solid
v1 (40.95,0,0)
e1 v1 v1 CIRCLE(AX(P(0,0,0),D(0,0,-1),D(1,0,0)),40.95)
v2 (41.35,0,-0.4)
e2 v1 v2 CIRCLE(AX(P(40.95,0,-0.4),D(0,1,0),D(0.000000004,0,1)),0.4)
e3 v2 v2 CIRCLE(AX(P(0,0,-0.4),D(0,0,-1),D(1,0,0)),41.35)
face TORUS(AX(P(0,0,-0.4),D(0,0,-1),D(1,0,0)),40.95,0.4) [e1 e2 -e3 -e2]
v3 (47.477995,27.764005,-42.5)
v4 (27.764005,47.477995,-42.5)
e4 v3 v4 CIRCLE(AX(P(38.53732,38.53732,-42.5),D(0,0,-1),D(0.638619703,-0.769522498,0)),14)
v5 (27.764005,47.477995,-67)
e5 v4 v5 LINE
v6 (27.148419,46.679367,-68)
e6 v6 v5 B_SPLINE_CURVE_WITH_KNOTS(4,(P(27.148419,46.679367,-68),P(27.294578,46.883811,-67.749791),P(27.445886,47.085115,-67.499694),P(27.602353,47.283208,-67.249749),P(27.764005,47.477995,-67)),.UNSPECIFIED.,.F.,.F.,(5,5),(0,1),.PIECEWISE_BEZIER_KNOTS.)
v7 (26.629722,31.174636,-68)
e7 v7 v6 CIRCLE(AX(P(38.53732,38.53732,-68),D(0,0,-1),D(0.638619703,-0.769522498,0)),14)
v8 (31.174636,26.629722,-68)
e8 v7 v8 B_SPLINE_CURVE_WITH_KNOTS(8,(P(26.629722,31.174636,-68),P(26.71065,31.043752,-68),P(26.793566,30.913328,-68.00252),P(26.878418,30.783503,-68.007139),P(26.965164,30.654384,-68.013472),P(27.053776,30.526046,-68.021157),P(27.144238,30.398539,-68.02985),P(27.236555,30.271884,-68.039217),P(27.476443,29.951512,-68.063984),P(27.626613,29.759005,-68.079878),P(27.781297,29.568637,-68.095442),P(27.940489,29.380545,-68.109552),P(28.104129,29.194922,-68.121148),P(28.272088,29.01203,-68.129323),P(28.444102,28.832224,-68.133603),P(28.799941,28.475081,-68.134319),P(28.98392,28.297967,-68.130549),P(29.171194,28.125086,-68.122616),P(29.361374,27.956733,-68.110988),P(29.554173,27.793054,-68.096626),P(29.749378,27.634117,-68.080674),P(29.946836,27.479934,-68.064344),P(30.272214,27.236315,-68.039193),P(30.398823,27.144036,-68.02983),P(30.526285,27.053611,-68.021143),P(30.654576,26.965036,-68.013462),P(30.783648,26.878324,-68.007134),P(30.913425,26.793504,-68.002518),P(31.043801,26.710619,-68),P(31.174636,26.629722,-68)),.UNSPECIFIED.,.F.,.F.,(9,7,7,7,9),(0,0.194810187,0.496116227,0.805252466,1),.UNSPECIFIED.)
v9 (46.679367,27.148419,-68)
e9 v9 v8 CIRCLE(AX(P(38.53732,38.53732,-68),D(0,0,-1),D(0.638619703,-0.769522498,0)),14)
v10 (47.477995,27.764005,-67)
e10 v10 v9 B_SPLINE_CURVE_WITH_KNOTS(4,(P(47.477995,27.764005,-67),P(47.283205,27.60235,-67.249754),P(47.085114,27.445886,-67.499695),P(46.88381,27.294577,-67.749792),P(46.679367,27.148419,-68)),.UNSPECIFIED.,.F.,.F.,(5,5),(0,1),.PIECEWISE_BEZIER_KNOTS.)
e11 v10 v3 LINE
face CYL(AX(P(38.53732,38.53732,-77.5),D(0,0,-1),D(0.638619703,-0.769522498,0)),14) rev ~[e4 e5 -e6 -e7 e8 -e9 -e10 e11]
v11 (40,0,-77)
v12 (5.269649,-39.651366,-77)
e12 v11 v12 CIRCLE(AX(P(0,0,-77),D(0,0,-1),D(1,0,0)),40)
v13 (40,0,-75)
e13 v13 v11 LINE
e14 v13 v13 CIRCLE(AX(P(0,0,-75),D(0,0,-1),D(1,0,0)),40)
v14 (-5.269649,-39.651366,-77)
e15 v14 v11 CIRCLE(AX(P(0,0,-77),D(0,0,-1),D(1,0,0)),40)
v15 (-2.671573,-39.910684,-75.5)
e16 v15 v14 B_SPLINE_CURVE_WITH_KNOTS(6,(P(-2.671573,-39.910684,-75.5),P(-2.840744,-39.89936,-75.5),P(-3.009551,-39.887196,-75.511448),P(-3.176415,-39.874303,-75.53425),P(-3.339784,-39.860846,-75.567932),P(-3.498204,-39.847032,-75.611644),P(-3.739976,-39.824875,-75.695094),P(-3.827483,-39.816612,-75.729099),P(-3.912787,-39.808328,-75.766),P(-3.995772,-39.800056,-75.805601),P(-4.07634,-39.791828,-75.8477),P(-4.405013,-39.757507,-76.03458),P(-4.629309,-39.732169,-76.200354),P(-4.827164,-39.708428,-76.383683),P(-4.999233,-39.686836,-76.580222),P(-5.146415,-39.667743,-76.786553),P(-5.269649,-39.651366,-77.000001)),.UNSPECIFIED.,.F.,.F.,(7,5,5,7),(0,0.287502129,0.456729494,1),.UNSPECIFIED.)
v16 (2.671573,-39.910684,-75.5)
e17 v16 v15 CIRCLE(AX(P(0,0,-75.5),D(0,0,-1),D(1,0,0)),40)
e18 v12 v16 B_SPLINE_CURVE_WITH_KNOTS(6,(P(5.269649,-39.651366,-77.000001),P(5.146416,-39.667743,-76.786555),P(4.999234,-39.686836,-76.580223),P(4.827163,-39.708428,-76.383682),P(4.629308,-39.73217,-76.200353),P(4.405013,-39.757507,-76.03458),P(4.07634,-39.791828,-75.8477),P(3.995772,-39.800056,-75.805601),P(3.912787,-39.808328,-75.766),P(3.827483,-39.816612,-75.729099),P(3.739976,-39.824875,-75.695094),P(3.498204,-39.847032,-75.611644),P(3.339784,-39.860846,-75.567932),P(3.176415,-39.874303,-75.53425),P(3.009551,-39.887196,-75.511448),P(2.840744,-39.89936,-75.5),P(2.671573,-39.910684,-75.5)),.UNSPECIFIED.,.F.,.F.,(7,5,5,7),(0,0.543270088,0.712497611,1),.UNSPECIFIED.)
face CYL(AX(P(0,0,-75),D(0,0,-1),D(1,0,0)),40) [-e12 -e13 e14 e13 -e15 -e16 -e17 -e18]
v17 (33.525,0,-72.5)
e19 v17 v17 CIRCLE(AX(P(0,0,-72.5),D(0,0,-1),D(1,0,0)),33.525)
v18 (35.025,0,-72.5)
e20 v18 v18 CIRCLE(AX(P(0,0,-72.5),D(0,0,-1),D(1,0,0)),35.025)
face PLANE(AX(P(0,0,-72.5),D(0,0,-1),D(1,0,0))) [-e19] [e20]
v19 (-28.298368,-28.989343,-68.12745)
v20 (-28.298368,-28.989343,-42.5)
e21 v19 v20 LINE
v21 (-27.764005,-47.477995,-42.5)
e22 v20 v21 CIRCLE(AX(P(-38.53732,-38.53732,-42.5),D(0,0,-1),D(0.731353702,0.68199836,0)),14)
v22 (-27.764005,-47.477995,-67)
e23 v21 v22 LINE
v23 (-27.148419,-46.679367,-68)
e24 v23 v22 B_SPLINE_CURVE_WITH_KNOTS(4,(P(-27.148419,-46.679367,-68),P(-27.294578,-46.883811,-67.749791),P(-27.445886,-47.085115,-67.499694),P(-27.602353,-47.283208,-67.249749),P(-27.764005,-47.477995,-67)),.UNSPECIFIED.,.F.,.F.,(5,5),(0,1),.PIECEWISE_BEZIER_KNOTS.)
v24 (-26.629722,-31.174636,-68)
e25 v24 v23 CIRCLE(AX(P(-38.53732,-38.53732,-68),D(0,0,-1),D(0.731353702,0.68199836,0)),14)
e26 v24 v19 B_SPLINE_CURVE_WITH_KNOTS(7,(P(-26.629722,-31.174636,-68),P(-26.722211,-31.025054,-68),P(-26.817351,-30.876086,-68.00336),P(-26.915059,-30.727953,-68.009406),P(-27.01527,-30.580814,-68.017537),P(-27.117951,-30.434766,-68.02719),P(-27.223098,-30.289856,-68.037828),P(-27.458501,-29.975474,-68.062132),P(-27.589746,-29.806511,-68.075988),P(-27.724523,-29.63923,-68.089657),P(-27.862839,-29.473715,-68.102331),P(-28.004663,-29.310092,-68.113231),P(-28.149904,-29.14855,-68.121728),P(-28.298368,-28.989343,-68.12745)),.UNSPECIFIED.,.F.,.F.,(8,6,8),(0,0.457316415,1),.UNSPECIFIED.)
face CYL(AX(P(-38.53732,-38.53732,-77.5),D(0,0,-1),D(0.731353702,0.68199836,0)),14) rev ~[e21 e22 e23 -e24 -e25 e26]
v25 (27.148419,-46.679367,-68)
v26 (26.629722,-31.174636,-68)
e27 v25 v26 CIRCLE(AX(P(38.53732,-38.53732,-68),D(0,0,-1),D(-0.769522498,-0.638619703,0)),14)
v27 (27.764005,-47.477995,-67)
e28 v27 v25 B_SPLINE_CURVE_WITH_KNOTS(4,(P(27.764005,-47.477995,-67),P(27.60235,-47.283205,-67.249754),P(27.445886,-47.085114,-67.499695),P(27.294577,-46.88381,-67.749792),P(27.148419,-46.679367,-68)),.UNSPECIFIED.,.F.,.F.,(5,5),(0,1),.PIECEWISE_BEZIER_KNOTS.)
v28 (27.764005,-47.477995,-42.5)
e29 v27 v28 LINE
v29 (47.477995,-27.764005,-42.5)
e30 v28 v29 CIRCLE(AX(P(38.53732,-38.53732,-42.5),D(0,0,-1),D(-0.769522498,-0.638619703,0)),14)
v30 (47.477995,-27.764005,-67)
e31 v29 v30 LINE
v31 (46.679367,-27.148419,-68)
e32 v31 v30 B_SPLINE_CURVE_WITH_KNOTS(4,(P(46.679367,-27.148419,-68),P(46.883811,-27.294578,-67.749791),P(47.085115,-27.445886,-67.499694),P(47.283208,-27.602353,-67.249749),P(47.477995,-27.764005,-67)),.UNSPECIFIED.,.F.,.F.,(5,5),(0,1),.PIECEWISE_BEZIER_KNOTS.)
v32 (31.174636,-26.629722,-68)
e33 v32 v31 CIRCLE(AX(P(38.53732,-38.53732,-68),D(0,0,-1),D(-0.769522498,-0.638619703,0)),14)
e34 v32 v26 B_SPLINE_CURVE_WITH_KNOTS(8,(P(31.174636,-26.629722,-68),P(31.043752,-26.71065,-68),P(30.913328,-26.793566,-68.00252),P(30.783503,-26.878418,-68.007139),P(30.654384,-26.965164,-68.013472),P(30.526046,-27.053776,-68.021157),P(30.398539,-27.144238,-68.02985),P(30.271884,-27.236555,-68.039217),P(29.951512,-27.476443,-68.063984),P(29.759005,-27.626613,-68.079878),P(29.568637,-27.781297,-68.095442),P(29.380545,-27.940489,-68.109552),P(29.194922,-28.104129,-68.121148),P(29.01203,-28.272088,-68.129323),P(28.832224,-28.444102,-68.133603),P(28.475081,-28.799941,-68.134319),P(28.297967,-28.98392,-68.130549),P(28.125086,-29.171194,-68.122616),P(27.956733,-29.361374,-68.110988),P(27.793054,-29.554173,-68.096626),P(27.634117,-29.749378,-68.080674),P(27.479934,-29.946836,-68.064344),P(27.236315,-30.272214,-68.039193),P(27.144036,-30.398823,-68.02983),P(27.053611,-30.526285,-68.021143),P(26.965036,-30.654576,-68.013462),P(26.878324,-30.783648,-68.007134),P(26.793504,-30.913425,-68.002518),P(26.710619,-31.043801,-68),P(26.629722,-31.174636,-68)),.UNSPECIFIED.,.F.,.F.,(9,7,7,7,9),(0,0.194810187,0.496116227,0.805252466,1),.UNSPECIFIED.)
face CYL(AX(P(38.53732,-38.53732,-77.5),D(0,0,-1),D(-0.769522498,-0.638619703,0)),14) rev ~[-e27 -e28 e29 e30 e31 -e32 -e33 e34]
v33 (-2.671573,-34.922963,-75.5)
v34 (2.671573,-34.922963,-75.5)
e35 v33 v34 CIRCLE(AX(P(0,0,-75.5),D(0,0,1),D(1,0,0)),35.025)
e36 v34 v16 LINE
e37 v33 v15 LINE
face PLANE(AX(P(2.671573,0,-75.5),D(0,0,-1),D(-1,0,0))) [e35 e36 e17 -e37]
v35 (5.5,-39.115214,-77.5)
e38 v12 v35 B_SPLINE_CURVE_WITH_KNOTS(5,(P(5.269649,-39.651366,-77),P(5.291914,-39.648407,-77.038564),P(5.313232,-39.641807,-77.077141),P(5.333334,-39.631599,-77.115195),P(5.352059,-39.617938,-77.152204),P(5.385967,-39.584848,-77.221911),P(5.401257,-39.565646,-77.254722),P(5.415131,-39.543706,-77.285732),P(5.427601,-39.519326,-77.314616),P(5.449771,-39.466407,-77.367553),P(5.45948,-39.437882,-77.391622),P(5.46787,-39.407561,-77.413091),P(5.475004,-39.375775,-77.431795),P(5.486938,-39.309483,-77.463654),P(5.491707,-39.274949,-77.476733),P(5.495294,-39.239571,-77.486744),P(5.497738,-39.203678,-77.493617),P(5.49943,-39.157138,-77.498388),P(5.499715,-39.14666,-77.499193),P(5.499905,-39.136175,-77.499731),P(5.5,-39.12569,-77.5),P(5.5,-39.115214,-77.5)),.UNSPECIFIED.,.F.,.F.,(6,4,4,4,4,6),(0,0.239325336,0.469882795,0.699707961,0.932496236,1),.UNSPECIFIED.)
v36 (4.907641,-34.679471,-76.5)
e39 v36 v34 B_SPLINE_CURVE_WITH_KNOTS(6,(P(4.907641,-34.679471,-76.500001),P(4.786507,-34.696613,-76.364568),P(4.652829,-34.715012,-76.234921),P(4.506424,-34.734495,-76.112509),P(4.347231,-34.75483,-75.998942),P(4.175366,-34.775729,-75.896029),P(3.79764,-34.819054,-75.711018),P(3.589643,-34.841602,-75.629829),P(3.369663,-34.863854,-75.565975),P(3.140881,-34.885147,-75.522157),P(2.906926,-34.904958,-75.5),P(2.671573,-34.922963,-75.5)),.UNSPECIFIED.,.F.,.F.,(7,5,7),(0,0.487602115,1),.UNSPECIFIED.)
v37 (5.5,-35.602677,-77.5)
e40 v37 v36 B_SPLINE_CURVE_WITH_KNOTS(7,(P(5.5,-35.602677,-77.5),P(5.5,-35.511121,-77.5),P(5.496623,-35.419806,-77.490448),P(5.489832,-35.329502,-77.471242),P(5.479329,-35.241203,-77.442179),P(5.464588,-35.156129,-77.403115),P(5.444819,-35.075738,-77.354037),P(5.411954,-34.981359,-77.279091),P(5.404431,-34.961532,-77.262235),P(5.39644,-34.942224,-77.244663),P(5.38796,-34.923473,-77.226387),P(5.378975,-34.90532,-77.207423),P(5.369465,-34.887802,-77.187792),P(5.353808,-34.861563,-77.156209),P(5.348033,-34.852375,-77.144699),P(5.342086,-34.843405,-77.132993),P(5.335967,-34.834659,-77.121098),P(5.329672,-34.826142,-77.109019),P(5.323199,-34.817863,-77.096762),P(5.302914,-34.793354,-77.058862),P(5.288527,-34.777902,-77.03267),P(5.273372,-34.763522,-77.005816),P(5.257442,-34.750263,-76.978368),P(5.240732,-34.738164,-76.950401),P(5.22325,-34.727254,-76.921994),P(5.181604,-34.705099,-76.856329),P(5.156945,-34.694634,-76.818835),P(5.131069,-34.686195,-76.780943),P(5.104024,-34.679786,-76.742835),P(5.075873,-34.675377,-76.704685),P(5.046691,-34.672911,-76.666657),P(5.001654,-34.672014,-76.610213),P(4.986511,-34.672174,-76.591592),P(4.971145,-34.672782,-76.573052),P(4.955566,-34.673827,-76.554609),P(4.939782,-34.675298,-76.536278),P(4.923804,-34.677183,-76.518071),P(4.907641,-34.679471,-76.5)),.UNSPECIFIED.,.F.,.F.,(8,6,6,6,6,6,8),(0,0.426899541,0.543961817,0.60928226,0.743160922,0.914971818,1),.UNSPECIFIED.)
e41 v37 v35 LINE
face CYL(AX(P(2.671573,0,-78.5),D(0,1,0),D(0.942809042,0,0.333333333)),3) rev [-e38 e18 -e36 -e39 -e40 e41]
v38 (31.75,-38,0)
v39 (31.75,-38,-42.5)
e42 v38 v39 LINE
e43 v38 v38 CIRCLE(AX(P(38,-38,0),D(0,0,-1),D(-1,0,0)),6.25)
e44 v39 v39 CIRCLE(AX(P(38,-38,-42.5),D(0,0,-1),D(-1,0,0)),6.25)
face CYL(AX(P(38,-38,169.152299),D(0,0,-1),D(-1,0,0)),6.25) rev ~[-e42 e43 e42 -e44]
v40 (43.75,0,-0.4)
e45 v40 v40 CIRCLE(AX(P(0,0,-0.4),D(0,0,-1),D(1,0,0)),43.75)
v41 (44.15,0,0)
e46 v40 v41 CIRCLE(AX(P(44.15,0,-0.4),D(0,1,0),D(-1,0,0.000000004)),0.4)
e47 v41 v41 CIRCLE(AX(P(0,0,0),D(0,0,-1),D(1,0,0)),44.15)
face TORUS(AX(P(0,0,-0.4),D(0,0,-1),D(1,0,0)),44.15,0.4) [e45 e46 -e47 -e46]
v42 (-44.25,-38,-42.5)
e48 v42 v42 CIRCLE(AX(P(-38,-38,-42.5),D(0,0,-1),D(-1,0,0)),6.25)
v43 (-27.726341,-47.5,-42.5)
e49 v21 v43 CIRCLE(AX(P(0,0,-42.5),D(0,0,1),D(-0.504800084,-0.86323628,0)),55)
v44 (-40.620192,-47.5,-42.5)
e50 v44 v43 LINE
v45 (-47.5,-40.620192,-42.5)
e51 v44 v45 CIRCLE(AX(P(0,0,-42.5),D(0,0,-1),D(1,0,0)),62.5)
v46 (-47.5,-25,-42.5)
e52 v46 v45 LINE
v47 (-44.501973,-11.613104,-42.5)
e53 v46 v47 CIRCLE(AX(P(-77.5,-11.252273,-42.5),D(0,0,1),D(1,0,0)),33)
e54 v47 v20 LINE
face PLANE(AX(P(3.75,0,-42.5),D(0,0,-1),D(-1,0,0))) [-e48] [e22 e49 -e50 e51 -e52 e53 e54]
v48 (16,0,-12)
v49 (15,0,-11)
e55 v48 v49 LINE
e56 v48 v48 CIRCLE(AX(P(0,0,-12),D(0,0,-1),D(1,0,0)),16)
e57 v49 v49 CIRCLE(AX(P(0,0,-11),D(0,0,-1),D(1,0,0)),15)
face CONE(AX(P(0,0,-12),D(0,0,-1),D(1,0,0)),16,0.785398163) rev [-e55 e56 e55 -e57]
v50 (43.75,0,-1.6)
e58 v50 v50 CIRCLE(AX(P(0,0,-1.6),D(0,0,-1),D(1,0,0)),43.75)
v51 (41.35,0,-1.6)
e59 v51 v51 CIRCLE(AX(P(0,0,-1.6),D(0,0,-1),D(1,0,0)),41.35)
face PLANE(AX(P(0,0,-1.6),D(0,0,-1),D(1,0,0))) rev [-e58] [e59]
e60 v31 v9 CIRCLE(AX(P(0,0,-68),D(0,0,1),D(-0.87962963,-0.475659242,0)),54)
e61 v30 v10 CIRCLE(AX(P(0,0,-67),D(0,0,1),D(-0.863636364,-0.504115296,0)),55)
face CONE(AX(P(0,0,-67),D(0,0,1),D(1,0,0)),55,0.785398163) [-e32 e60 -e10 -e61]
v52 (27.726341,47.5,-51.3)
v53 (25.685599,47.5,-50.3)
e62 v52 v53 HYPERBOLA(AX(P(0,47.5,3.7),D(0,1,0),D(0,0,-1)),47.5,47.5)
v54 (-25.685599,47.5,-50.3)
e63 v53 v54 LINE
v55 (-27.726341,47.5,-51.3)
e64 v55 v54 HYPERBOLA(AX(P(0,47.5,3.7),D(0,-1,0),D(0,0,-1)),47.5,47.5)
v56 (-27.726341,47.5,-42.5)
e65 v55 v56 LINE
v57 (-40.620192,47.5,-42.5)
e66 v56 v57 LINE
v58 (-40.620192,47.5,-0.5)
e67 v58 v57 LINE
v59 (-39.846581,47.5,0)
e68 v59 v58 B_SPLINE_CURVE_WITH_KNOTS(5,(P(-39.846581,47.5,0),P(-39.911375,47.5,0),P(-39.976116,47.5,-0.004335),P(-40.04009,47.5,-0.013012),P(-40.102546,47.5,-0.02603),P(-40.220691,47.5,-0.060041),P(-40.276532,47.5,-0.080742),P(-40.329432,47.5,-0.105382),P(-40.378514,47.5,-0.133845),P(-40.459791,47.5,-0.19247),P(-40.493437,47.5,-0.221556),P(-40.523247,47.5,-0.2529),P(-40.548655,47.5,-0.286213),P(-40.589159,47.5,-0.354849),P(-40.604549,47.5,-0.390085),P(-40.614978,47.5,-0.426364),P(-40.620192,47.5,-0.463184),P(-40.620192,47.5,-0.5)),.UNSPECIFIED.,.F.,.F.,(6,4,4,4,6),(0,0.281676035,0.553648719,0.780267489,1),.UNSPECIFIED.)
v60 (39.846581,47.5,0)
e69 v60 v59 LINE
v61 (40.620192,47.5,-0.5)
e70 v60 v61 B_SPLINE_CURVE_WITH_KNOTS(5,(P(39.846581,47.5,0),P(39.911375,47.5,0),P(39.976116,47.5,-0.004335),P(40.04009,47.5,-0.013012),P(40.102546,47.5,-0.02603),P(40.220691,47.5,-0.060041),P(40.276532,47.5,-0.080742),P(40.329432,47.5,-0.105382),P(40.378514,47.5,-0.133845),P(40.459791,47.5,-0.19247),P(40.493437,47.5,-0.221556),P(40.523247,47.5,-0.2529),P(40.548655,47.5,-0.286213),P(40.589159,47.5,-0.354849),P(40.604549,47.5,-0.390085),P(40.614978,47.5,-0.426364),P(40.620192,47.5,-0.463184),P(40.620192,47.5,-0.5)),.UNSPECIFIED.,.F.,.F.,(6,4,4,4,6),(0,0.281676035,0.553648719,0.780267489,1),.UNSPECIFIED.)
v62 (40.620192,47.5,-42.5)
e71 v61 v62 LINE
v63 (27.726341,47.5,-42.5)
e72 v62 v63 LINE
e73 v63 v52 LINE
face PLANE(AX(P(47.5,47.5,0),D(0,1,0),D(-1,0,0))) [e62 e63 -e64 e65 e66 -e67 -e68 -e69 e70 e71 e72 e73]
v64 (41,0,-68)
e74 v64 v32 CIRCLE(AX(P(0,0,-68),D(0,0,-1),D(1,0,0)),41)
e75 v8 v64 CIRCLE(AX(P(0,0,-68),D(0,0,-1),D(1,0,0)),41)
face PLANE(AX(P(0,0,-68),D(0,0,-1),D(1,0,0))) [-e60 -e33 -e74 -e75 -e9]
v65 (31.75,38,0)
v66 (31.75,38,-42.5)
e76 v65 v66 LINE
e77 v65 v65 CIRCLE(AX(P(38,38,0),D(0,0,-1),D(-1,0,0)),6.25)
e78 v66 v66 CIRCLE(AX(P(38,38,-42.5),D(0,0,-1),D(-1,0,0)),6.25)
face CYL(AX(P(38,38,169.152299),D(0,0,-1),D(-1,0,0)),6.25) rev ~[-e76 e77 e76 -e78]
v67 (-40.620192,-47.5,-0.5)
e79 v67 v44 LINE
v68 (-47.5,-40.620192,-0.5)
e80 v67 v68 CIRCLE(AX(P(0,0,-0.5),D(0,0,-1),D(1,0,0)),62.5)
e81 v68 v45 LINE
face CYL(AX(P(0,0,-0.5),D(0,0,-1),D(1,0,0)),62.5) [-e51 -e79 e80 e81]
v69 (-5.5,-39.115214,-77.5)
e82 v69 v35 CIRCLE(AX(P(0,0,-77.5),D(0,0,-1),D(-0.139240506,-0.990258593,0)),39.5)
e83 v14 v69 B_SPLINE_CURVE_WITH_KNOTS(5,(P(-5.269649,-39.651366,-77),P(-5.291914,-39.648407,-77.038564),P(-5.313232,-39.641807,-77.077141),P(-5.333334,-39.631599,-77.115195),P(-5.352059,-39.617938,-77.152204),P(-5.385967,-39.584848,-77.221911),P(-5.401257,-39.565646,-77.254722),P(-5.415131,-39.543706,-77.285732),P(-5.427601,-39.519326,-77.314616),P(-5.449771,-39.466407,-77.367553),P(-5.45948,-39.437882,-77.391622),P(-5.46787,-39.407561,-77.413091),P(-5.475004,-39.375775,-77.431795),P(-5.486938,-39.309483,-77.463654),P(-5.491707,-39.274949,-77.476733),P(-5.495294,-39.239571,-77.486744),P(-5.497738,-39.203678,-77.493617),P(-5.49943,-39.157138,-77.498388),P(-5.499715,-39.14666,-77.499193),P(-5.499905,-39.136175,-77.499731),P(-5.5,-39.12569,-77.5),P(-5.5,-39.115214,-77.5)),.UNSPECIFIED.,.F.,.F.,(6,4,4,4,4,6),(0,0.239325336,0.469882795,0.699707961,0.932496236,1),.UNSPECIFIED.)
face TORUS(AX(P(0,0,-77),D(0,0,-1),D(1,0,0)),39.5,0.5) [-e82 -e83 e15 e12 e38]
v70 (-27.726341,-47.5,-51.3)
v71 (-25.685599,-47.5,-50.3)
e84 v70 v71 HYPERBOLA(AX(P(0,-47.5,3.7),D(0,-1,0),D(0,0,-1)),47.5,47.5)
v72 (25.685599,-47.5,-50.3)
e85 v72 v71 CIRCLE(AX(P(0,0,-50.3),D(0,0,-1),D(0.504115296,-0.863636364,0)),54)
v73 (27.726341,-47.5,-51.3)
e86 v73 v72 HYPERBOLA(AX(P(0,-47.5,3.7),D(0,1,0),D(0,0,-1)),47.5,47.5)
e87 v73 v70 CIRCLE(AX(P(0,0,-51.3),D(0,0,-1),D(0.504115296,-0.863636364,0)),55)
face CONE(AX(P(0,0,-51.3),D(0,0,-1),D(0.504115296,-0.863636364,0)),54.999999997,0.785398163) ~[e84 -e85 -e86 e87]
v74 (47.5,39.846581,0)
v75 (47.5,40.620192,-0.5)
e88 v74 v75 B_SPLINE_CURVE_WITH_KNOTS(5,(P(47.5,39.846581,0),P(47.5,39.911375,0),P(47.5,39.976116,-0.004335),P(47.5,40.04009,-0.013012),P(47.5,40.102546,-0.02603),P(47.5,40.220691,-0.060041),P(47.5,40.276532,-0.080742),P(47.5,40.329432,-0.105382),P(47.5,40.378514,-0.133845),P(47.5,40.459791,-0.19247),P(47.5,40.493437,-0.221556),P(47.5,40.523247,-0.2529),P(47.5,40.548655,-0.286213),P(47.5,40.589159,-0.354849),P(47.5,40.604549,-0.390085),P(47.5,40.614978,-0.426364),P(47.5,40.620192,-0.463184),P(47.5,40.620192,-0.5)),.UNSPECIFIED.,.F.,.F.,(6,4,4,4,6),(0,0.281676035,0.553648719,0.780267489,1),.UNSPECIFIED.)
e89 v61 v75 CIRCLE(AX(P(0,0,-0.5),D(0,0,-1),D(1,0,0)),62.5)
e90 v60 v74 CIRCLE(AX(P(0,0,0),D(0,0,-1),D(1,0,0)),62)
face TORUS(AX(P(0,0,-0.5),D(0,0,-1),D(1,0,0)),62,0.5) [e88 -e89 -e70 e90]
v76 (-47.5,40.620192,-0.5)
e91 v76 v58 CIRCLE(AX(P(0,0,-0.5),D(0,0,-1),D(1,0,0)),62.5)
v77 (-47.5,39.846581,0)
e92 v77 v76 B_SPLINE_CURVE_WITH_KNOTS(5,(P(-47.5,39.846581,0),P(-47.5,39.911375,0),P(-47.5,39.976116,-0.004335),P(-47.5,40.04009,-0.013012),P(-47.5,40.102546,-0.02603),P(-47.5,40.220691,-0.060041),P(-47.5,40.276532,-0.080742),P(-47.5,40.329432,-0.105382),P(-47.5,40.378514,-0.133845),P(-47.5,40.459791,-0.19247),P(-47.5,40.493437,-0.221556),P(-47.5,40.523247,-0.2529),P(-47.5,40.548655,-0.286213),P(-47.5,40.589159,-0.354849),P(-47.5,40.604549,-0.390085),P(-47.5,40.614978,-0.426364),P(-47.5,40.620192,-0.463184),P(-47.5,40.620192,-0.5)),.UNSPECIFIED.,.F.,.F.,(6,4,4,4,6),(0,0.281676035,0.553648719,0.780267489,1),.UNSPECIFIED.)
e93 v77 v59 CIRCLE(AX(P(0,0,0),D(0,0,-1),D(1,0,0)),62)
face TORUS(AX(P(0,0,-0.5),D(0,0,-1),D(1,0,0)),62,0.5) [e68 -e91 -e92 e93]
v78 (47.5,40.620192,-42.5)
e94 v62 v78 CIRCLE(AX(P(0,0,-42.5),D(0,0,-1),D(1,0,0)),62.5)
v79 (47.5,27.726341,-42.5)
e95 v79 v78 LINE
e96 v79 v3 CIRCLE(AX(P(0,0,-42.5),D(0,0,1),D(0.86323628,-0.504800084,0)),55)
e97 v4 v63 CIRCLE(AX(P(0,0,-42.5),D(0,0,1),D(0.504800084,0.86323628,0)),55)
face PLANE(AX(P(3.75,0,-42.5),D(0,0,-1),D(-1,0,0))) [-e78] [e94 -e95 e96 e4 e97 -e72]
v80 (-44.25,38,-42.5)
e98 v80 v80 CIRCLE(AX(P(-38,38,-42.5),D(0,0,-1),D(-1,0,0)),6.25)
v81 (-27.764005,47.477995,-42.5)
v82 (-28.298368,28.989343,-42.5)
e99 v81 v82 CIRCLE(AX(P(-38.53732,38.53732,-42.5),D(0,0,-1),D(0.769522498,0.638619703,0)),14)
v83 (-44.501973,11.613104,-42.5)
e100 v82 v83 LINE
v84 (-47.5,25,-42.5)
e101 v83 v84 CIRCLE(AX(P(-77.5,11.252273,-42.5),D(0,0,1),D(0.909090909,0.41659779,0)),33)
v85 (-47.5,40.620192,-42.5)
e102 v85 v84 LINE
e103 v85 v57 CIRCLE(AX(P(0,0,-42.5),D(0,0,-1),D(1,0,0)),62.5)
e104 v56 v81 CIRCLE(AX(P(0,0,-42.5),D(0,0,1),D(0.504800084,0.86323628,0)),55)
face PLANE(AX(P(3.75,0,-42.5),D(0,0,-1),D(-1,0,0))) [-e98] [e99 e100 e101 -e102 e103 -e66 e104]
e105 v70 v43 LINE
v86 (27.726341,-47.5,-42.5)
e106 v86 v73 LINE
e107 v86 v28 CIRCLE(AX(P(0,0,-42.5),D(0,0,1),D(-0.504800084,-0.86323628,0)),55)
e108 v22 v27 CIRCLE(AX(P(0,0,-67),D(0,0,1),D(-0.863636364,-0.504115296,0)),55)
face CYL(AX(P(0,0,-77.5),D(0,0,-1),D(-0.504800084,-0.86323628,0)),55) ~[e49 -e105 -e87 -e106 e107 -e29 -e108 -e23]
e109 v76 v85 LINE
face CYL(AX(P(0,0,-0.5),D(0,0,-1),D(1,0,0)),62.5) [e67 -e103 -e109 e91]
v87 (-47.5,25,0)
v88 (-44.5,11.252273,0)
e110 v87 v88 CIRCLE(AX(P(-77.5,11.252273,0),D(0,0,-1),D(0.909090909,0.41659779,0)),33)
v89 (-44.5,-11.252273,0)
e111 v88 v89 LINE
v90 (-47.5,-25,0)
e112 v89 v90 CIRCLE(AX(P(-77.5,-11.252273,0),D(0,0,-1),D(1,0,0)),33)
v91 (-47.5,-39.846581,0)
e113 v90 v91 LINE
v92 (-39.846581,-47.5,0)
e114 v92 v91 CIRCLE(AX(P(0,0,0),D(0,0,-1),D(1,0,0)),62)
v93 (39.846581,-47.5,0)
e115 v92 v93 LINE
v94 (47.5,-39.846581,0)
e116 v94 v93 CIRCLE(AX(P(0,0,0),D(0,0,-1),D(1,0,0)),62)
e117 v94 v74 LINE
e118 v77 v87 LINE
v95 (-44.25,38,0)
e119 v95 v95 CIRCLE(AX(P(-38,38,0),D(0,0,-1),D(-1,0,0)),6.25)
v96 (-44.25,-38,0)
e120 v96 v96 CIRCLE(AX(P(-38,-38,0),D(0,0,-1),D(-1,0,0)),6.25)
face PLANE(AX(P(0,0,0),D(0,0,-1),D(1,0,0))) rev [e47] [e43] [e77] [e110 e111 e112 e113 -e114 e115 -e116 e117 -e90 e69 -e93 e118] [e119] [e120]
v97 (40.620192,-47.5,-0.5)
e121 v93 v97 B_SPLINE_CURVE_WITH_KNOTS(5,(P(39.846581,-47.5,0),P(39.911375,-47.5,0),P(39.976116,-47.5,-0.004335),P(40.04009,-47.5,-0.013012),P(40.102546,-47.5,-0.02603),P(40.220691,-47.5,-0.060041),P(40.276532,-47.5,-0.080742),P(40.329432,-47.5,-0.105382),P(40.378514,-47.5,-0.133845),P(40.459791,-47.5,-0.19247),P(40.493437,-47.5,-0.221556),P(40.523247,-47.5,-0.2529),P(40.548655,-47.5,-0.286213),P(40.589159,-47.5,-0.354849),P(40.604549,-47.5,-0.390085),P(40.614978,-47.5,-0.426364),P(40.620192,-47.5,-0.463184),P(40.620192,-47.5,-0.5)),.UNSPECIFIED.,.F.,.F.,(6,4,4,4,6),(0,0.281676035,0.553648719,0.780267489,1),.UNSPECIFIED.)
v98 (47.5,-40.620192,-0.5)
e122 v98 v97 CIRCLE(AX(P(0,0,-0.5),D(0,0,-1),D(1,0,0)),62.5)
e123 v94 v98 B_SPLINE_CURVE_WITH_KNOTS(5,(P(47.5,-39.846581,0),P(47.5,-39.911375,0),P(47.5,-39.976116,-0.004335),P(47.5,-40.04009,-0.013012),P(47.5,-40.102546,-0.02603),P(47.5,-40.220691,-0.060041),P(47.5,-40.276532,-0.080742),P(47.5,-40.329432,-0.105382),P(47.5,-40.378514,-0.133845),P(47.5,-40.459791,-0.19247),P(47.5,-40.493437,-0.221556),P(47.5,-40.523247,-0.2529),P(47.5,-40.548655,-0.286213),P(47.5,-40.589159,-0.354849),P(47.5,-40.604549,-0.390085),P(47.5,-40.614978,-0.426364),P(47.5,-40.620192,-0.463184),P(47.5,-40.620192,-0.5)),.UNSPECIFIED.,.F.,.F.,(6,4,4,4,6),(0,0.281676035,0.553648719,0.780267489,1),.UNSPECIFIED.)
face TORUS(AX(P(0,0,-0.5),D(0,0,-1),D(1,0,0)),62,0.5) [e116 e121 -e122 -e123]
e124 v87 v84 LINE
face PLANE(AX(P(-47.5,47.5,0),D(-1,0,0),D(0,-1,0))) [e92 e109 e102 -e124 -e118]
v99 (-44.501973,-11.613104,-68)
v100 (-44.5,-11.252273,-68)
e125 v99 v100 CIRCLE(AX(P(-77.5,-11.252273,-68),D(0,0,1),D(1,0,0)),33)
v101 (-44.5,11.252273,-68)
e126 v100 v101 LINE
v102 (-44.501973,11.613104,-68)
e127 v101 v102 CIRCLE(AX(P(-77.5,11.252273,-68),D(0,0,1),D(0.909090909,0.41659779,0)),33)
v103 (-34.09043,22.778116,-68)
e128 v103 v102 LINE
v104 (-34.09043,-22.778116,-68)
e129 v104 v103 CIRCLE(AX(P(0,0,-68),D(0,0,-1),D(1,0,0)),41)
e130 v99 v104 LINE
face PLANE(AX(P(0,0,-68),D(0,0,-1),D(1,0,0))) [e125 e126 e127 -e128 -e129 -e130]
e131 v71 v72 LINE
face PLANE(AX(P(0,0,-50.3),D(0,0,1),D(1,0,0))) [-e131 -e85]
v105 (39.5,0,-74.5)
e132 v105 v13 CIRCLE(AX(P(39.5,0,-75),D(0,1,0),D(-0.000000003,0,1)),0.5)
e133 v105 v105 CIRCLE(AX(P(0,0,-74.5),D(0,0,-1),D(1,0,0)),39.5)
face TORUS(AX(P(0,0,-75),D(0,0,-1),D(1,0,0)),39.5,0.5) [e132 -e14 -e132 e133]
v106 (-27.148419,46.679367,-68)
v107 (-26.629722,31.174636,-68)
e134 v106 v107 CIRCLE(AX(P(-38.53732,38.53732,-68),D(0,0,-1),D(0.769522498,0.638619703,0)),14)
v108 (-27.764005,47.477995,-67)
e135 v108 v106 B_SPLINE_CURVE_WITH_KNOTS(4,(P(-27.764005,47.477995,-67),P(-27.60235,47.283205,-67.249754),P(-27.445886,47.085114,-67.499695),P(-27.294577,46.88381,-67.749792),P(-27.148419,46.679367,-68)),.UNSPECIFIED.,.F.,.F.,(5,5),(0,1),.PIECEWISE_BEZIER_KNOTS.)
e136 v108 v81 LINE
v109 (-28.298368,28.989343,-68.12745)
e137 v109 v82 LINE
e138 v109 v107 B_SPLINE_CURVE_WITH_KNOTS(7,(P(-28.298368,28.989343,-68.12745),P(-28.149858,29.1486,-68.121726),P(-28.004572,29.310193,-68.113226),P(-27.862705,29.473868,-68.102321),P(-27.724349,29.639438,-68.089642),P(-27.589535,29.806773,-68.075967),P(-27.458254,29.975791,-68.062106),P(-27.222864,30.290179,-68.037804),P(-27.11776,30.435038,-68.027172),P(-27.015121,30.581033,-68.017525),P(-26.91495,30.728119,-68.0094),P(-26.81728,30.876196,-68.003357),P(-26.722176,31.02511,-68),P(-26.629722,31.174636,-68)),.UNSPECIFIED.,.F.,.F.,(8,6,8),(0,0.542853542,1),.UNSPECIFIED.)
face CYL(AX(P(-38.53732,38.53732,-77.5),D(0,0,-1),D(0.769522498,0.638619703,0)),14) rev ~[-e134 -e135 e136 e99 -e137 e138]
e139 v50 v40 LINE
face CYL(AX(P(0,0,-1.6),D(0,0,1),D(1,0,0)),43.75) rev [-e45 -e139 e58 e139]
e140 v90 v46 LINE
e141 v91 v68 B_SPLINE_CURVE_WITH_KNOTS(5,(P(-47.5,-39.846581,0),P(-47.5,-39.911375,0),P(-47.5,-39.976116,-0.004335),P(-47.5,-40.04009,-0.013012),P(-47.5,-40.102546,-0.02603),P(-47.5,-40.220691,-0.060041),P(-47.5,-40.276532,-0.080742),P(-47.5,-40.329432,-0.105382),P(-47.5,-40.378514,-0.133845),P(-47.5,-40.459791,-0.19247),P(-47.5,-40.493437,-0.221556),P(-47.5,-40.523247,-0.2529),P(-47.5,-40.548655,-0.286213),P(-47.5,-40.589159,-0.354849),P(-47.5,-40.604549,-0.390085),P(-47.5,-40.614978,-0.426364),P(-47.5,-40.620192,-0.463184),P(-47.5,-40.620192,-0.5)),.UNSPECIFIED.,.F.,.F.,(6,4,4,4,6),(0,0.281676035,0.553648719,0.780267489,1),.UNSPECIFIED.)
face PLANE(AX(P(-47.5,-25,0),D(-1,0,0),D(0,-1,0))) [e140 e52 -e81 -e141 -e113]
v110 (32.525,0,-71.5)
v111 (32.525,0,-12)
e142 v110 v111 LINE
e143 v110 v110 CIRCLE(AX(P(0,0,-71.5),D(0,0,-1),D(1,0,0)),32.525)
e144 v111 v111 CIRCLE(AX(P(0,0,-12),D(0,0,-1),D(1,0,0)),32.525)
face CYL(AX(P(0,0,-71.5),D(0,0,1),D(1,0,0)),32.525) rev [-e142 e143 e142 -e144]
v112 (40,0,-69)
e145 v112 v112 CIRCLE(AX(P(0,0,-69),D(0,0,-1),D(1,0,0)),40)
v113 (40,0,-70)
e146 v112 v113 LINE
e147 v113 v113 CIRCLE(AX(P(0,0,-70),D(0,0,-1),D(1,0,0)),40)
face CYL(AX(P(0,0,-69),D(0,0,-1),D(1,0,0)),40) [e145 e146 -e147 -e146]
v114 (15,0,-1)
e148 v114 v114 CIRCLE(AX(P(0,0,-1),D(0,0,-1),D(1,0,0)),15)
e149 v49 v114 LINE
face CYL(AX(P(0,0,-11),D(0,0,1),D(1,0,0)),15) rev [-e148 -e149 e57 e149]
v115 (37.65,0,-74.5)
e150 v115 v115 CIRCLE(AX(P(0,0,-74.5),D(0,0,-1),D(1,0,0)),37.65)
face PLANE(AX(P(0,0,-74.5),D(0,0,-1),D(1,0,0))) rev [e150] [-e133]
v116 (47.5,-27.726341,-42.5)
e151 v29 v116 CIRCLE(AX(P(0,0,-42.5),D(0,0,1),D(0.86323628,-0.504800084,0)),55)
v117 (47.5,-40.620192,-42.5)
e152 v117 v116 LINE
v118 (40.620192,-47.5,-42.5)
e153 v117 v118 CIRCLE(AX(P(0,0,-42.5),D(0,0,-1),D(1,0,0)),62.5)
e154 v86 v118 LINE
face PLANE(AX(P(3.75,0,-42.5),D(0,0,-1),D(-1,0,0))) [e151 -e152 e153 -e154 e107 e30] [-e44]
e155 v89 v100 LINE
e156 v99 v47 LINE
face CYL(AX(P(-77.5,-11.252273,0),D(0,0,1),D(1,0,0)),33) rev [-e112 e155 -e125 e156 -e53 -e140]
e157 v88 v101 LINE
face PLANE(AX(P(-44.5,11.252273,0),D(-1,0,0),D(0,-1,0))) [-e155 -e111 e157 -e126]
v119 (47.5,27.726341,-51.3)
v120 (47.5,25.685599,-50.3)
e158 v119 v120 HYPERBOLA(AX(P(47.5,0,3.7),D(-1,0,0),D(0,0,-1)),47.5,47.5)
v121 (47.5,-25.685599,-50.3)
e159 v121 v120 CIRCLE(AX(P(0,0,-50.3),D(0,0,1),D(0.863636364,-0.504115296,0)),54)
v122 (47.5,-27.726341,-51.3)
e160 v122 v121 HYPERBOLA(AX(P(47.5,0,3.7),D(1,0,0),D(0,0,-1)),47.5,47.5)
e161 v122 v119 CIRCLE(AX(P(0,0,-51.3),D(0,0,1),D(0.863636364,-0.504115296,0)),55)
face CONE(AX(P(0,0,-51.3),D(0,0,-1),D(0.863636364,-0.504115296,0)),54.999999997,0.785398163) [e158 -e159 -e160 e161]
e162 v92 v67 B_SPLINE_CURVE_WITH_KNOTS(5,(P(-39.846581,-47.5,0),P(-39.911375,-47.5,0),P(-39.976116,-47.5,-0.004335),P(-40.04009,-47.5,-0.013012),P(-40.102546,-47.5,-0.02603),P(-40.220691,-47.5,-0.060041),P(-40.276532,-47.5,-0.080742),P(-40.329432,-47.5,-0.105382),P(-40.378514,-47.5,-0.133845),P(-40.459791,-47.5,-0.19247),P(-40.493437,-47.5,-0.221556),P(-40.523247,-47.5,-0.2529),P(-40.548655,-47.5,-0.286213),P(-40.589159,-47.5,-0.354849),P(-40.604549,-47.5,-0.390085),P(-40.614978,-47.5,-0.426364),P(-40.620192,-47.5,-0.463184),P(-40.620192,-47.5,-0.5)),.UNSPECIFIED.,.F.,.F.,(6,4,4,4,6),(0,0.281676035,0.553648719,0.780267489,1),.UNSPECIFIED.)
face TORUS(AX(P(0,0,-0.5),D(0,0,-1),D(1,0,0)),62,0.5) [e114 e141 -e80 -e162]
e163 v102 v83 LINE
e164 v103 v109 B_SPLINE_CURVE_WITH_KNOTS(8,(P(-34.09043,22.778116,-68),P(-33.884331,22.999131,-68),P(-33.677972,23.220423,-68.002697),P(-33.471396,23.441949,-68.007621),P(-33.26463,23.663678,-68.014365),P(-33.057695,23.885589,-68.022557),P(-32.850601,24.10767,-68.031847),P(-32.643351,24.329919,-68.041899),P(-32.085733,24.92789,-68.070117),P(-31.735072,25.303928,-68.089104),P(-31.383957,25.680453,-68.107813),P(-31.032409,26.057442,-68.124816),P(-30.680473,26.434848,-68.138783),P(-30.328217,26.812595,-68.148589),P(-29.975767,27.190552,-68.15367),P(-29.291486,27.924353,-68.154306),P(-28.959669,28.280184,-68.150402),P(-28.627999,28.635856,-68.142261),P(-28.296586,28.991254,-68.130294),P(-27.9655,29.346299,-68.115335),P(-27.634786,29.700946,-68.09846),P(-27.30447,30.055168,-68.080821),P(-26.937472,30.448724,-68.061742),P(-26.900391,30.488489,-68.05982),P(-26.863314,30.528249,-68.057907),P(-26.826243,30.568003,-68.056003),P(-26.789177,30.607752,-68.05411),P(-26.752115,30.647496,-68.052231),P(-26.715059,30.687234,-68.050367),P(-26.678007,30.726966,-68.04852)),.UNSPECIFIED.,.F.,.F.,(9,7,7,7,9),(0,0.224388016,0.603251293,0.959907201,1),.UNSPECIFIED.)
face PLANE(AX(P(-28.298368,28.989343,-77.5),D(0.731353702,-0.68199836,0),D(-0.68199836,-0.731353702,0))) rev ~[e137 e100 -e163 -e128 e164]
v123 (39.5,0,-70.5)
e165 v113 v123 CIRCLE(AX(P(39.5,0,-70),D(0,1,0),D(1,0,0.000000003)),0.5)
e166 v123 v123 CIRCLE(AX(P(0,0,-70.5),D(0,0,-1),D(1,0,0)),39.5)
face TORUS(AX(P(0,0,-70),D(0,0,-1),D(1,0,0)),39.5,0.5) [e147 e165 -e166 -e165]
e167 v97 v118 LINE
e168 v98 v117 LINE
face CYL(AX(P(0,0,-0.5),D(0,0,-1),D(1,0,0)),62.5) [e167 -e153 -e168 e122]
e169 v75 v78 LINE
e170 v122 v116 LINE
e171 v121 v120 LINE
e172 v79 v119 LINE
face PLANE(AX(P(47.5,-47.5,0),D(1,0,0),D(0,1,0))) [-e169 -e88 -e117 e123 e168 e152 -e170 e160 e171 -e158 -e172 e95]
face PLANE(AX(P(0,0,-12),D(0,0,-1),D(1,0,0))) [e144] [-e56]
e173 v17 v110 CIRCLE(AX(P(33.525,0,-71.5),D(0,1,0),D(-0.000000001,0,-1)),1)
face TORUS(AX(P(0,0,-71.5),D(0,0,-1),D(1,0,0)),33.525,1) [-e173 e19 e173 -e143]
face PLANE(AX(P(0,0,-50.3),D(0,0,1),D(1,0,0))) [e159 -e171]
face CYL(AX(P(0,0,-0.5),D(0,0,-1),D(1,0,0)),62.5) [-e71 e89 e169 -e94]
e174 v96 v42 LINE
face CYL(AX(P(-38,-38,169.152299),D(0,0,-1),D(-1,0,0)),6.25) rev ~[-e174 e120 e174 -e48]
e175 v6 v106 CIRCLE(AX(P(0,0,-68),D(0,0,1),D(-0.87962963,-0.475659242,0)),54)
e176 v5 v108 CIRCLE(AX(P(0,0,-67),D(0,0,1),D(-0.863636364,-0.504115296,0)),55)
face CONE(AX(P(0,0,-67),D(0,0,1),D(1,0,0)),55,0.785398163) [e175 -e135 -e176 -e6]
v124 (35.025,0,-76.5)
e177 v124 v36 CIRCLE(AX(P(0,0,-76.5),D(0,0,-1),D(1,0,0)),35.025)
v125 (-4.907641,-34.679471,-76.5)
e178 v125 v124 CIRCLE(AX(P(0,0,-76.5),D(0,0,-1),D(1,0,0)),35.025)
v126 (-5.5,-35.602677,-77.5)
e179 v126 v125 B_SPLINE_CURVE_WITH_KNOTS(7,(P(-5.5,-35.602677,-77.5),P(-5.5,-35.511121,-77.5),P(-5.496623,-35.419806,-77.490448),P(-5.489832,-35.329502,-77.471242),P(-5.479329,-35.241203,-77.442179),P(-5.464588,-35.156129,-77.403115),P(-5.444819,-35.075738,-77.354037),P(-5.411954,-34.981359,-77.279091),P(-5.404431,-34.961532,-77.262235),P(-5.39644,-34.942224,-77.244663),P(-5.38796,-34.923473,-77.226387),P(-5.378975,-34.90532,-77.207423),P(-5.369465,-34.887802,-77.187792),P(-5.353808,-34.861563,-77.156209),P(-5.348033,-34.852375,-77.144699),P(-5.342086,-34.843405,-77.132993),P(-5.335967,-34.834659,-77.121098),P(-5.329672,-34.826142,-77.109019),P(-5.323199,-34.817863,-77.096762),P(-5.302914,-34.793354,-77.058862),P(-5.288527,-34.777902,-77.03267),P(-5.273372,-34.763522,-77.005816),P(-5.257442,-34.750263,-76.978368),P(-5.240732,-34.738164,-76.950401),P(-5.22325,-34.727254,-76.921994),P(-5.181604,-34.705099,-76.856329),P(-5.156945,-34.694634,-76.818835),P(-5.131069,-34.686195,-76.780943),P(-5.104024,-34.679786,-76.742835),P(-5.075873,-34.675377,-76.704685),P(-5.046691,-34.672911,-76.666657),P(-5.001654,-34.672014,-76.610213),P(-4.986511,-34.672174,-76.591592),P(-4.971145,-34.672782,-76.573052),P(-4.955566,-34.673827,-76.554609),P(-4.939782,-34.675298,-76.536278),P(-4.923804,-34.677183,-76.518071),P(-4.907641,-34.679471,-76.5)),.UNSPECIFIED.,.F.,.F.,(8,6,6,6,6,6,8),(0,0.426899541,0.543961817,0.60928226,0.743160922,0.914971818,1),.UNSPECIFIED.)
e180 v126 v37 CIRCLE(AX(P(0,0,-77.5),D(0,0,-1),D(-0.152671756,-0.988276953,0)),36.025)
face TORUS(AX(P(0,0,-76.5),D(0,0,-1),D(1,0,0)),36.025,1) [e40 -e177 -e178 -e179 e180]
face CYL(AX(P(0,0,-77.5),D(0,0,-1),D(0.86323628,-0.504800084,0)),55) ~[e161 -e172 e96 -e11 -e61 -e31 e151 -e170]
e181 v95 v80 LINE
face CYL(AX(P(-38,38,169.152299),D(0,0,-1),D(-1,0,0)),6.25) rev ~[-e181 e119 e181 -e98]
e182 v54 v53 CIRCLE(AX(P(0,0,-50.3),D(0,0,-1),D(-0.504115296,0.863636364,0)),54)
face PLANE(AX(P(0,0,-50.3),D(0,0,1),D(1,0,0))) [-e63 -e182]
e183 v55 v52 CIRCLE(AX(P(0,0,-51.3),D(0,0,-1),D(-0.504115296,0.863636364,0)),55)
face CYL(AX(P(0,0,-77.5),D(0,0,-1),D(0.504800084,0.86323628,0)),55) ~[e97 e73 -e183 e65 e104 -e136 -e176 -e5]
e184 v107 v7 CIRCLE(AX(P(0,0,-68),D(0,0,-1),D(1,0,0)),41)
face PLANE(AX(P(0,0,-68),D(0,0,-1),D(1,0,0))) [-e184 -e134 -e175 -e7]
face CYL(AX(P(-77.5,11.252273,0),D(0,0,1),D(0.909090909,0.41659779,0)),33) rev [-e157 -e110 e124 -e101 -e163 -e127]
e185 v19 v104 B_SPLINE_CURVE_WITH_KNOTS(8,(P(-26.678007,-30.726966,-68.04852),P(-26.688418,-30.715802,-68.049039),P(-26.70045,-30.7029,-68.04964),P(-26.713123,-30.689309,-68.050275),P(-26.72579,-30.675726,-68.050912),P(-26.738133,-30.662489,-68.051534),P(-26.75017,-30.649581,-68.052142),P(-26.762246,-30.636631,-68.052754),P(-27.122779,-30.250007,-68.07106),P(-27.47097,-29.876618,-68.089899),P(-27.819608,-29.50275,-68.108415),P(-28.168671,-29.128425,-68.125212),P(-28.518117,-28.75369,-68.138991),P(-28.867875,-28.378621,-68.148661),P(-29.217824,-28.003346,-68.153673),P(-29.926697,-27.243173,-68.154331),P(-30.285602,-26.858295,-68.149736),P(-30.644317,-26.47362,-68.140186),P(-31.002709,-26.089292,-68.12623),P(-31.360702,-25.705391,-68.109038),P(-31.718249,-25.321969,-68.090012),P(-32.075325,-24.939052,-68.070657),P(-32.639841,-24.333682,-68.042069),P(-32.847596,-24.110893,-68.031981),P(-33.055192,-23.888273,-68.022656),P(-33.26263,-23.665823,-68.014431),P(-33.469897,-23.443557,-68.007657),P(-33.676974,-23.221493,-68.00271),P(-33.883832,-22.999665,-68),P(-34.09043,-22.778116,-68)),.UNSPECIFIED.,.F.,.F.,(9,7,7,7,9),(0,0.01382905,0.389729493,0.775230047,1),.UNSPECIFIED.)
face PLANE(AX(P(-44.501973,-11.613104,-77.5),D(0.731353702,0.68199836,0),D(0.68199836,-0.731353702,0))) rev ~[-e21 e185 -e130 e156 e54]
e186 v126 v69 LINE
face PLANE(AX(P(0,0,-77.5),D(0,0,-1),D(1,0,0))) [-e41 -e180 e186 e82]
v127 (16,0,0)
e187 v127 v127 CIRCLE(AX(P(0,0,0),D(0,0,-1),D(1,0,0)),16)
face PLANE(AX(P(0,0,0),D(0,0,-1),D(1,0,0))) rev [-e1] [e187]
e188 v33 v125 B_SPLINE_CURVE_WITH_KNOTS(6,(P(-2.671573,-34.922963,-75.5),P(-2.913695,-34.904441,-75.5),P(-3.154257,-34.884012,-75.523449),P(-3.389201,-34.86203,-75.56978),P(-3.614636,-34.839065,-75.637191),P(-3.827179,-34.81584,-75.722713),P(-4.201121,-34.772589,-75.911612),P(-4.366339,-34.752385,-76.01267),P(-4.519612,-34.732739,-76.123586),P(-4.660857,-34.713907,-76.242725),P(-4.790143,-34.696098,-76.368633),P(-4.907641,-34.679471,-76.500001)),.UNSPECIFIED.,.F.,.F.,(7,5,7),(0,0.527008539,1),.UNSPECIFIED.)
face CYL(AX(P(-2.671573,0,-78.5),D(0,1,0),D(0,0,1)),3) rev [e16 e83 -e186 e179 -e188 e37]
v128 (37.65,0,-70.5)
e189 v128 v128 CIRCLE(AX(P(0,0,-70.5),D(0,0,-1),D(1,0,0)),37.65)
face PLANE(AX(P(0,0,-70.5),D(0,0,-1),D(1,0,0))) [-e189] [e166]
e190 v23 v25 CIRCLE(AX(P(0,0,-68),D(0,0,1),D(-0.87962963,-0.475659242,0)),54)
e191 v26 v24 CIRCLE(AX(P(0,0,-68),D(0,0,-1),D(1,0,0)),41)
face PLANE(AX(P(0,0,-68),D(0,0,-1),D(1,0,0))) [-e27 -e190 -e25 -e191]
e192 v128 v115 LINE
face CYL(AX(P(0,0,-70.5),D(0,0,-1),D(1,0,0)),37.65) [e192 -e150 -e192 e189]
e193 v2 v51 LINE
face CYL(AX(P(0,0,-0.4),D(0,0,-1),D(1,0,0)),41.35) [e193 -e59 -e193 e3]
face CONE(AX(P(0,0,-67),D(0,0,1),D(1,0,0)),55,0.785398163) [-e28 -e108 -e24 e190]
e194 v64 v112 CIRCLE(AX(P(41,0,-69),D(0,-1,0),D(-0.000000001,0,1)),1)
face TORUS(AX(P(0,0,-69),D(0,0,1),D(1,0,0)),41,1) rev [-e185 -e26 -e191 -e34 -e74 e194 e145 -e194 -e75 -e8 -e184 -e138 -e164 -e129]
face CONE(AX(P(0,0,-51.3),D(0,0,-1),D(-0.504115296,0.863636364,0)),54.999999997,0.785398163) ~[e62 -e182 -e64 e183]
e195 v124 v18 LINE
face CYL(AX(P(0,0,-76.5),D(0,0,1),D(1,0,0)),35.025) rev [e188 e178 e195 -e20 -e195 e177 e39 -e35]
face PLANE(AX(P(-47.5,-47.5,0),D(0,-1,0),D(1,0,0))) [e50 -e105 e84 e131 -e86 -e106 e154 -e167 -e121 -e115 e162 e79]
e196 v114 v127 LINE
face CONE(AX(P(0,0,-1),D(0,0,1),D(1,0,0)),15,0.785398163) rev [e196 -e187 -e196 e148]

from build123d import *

# Parameters (mm, degrees)
SKETCH2_OUTSIDE_W            = 165.604
SKETCH2_OUTSIDE_H            = 165.604
CUT_EXTRUDE2_DEPTH           = 50.3
CUT_EXTRUDE4_DEPTH           = 110.80095628
SKETCH3_OUTSIDE_W            = 138.33
SKETCH3_OUTSIDE_H            = 145.83
CUT_EXTRUDE3_DEPTH           = 35
F_12_5_12_5_DIAMETER_HOLE1_D = 12.5
CUT_EXTRUDE5_DEPTH           = 42.5
CHAMFER1_SIZE                = 1


with BuildPart() as part:
    # Sketch1 → Revolve1 (revolve)
    with BuildSketch(Plane(origin=(0, 0, 0), x_dir=(0, 0, -1), z_dir=(1, 0, 0)), mode=Mode.PRIVATE) as revolve1_sk:
        with BuildLine():
            Line((1, 15), (0, 16))
            Line((0, 16), (0, 40.95))
            ThreePointArc((0, 40.95), (0.117157288, 41.232842712), (0.4, 41.35))
            Line((0.4, 41.35), (1.6, 41.35))
            Line((1.6, 41.35), (1.6, 43.75))
            Line((1.6, 43.75), (0.4, 43.75))
            ThreePointArc((0.4, 43.75), (0.117157288, 43.867157288), (0, 44.15))
            Line((0, 44.15), (0, 62))
            ThreePointArc((0, 62), (0.146446609, 62.353553391), (0.5, 62.5))
            Line((0.5, 62.5), (49.8, 62.5))
            ThreePointArc((49.8, 62.5), (50.153553391, 62.353553391), (50.3, 62))
            Line((50.3, 62), (50.3, 55))
            Line((50.3, 55), (67, 55))
            Line((67, 55), (68, 54))
            Line((68, 54), (68, 41))
            ThreePointArc((68, 41), (68.292893219, 40.292893219), (69, 40))
            Line((69, 40), (70, 40))
            ThreePointArc((70, 40), (70.353553391, 39.853553391), (70.5, 39.5))
            Line((70.5, 39.5), (70.5, 37.65))
            Line((70.5, 37.65), (74.5, 37.65))
            Line((74.5, 37.65), (74.5, 39.5))
            ThreePointArc((74.5, 39.5), (74.646446609, 39.853553391), (75, 40))
            Line((75, 40), (77, 40))
            ThreePointArc((77, 40), (77.353553391, 39.853553391), (77.5, 39.5))
            Line((77.5, 39.5), (77.5, 36.025))
            ThreePointArc((77.5, 36.025), (77.207106781, 35.317893219), (76.5, 35.025))
            Line((76.5, 35.025), (72.5, 35.025))
            Line((72.5, 35.025), (72.5, 33.525))
            ThreePointArc((72.5, 33.525), (72.207106781, 32.817893219), (71.5, 32.525))
            Line((71.5, 32.525), (12, 32.525))
            Line((12, 32.525), (12, 16))
            Line((12, 16), (11, 15))
            Line((11, 15), (1, 15))
        make_face()
    revolve(revolve1_sk.sketch.rotate(Axis((0, 0, 0), (0, 0, -1)), 90), axis=Axis((0, 0, 0), (0, 0, -1)))

    # Sketch2 outside → Cut-Extrude2 (cut)
    with BuildSketch(Plane.XY):
        Rectangle(SKETCH2_OUTSIDE_W, SKETCH2_OUTSIDE_H)
        with BuildLine():
            Line((-47.5, 47.5), (-47.5, 25))
            ThreePointArc((-47.5, 25), (-45.25872211, 18.287896555), (-44.5, 11.252272915))
            Line((-44.5, 11.252272915), (-44.5, -11.252272915))
            ThreePointArc((-44.5, -11.252272915), (-45.25872211, -18.287896555), (-47.5, -25))
            Line((-47.5, -25), (-47.5, -47.5))
            Line((-47.5, -47.5), (47.5, -47.5))
            Line((47.5, -47.5), (47.5, 47.5))
            Line((47.5, 47.5), (-47.5, 47.5))
        make_face(mode=Mode.SUBTRACT)
    extrude(amount=-CUT_EXTRUDE2_DEPTH, mode=Mode.SUBTRACT)

    # Sketch4 → Cut-Extrude4 (cut, through all)
    with BuildSketch(Plane.XY):
        with BuildLine():
            Line((-47.5, -25), (-47.5, -47.5))
            Line((-47.5, -47.5), (-61.505329276, -47.5))
            Line((-61.505329276, -47.5), (-61.505329276, 47.5))
            Line((-61.505329276, 47.5), (-47.5, 47.5))
            Line((-47.5, 47.5), (-47.5, 25))
            ThreePointArc((-47.5, 25), (-45.25872211, 18.287896555), (-44.5, 11.252272915))
            Line((-44.5, 11.252272915), (-44.5, -11.252272915))
            ThreePointArc((-44.5, -11.252272915), (-45.25872211, -18.287896555), (-47.5, -25))
        make_face()
    extrude(amount=-CUT_EXTRUDE4_DEPTH, mode=Mode.SUBTRACT)

    # Sketch3 outside → Cut-Extrude3 (cut)
    with BuildSketch(Plane(origin=(0, 0, -77.5), x_dir=(-1, 0, 0), z_dir=(0, 0, -1))):
        with Locations((-3.75, 0)):
            Rectangle(SKETCH3_OUTSIDE_W, SKETCH3_OUTSIDE_H)
        with BuildLine():
            Line((28.298367752, 28.989342534), (44.501972767, 11.613103526))
            ThreePointArc((44.501972767, 11.613103526), (44.500493195, 11.432690917), (44.5, 11.252272915))
            Line((44.5, 11.252272915), (44.5, -11.252272915))
            ThreePointArc((44.5, -11.252272915), (44.500493195, -11.432690917), (44.501972767, -11.613103526))
            Line((44.501972767, -11.613103526), (28.298367752, -28.989342534))
            ThreePointArc((28.298367752, -28.989342534), (24.543163283, -38.132857362), (27.7640046, -47.477995414))
            ThreePointArc((27.7640046, -47.477995414), (0, -55), (-27.7640046, -47.477995414))
            ThreePointArc((-27.7640046, -47.477995414), (-28.637824638, -28.637824638), (-47.477995414, -27.7640046))
            ThreePointArc((-47.477995414, -27.7640046), (-55, 0), (-47.477995414, 27.7640046))
            ThreePointArc((-47.477995414, 27.7640046), (-28.637824638, 28.637824638), (-27.7640046, 47.477995414))
            ThreePointArc((-27.7640046, 47.477995414), (0, 55), (27.7640046, 47.477995414))
            ThreePointArc((27.7640046, 47.477995414), (24.543163283, 38.132857362), (28.298367752, 28.989342534))
        make_face(mode=Mode.SUBTRACT)
    extrude(amount=-CUT_EXTRUDE3_DEPTH, mode=Mode.SUBTRACT)

    # Ø12.5 (12.5) Diameter Hole1 (through all)
    with Locations(Plane.XY):
        with Locations((-38, 38), (38, 38), (38, -38), (-38, -38)):
            Hole(F_12_5_12_5_DIAMETER_HOLE1_D / 2)

    # Sketch8 → Cut-Extrude5 (cut)
    with BuildSketch(Plane(origin=(0, 0, 0), x_dir=(1, 0, 0), z_dir=(0, 1, 0))):
        with BuildLine():
            Line((-5.5, 77.5), (5.5, 77.5))
            ThreePointArc((5.5, 77.5), (4.403623683, 76.050510257), (2.671572875, 75.5))
            Line((2.671572875, 75.5), (-2.671572875, 75.5))
            ThreePointArc((-2.671572875, 75.5), (-4.403623683, 76.050510257), (-5.5, 77.5))
        make_face()
    extrude(amount=-CUT_EXTRUDE5_DEPTH, mode=Mode.SUBTRACT)

    # Chamfer1
    chamfer1_edges = [part.edges().sort_by_distance(p)[0] for p in [
        (0, 55, -50.3),
        (0, -55, -50.3),
        (55, 0, -50.3),
    ]]
    chamfer(chamfer1_edges, length=CHAMFER1_SIZE)


solid = part.part
